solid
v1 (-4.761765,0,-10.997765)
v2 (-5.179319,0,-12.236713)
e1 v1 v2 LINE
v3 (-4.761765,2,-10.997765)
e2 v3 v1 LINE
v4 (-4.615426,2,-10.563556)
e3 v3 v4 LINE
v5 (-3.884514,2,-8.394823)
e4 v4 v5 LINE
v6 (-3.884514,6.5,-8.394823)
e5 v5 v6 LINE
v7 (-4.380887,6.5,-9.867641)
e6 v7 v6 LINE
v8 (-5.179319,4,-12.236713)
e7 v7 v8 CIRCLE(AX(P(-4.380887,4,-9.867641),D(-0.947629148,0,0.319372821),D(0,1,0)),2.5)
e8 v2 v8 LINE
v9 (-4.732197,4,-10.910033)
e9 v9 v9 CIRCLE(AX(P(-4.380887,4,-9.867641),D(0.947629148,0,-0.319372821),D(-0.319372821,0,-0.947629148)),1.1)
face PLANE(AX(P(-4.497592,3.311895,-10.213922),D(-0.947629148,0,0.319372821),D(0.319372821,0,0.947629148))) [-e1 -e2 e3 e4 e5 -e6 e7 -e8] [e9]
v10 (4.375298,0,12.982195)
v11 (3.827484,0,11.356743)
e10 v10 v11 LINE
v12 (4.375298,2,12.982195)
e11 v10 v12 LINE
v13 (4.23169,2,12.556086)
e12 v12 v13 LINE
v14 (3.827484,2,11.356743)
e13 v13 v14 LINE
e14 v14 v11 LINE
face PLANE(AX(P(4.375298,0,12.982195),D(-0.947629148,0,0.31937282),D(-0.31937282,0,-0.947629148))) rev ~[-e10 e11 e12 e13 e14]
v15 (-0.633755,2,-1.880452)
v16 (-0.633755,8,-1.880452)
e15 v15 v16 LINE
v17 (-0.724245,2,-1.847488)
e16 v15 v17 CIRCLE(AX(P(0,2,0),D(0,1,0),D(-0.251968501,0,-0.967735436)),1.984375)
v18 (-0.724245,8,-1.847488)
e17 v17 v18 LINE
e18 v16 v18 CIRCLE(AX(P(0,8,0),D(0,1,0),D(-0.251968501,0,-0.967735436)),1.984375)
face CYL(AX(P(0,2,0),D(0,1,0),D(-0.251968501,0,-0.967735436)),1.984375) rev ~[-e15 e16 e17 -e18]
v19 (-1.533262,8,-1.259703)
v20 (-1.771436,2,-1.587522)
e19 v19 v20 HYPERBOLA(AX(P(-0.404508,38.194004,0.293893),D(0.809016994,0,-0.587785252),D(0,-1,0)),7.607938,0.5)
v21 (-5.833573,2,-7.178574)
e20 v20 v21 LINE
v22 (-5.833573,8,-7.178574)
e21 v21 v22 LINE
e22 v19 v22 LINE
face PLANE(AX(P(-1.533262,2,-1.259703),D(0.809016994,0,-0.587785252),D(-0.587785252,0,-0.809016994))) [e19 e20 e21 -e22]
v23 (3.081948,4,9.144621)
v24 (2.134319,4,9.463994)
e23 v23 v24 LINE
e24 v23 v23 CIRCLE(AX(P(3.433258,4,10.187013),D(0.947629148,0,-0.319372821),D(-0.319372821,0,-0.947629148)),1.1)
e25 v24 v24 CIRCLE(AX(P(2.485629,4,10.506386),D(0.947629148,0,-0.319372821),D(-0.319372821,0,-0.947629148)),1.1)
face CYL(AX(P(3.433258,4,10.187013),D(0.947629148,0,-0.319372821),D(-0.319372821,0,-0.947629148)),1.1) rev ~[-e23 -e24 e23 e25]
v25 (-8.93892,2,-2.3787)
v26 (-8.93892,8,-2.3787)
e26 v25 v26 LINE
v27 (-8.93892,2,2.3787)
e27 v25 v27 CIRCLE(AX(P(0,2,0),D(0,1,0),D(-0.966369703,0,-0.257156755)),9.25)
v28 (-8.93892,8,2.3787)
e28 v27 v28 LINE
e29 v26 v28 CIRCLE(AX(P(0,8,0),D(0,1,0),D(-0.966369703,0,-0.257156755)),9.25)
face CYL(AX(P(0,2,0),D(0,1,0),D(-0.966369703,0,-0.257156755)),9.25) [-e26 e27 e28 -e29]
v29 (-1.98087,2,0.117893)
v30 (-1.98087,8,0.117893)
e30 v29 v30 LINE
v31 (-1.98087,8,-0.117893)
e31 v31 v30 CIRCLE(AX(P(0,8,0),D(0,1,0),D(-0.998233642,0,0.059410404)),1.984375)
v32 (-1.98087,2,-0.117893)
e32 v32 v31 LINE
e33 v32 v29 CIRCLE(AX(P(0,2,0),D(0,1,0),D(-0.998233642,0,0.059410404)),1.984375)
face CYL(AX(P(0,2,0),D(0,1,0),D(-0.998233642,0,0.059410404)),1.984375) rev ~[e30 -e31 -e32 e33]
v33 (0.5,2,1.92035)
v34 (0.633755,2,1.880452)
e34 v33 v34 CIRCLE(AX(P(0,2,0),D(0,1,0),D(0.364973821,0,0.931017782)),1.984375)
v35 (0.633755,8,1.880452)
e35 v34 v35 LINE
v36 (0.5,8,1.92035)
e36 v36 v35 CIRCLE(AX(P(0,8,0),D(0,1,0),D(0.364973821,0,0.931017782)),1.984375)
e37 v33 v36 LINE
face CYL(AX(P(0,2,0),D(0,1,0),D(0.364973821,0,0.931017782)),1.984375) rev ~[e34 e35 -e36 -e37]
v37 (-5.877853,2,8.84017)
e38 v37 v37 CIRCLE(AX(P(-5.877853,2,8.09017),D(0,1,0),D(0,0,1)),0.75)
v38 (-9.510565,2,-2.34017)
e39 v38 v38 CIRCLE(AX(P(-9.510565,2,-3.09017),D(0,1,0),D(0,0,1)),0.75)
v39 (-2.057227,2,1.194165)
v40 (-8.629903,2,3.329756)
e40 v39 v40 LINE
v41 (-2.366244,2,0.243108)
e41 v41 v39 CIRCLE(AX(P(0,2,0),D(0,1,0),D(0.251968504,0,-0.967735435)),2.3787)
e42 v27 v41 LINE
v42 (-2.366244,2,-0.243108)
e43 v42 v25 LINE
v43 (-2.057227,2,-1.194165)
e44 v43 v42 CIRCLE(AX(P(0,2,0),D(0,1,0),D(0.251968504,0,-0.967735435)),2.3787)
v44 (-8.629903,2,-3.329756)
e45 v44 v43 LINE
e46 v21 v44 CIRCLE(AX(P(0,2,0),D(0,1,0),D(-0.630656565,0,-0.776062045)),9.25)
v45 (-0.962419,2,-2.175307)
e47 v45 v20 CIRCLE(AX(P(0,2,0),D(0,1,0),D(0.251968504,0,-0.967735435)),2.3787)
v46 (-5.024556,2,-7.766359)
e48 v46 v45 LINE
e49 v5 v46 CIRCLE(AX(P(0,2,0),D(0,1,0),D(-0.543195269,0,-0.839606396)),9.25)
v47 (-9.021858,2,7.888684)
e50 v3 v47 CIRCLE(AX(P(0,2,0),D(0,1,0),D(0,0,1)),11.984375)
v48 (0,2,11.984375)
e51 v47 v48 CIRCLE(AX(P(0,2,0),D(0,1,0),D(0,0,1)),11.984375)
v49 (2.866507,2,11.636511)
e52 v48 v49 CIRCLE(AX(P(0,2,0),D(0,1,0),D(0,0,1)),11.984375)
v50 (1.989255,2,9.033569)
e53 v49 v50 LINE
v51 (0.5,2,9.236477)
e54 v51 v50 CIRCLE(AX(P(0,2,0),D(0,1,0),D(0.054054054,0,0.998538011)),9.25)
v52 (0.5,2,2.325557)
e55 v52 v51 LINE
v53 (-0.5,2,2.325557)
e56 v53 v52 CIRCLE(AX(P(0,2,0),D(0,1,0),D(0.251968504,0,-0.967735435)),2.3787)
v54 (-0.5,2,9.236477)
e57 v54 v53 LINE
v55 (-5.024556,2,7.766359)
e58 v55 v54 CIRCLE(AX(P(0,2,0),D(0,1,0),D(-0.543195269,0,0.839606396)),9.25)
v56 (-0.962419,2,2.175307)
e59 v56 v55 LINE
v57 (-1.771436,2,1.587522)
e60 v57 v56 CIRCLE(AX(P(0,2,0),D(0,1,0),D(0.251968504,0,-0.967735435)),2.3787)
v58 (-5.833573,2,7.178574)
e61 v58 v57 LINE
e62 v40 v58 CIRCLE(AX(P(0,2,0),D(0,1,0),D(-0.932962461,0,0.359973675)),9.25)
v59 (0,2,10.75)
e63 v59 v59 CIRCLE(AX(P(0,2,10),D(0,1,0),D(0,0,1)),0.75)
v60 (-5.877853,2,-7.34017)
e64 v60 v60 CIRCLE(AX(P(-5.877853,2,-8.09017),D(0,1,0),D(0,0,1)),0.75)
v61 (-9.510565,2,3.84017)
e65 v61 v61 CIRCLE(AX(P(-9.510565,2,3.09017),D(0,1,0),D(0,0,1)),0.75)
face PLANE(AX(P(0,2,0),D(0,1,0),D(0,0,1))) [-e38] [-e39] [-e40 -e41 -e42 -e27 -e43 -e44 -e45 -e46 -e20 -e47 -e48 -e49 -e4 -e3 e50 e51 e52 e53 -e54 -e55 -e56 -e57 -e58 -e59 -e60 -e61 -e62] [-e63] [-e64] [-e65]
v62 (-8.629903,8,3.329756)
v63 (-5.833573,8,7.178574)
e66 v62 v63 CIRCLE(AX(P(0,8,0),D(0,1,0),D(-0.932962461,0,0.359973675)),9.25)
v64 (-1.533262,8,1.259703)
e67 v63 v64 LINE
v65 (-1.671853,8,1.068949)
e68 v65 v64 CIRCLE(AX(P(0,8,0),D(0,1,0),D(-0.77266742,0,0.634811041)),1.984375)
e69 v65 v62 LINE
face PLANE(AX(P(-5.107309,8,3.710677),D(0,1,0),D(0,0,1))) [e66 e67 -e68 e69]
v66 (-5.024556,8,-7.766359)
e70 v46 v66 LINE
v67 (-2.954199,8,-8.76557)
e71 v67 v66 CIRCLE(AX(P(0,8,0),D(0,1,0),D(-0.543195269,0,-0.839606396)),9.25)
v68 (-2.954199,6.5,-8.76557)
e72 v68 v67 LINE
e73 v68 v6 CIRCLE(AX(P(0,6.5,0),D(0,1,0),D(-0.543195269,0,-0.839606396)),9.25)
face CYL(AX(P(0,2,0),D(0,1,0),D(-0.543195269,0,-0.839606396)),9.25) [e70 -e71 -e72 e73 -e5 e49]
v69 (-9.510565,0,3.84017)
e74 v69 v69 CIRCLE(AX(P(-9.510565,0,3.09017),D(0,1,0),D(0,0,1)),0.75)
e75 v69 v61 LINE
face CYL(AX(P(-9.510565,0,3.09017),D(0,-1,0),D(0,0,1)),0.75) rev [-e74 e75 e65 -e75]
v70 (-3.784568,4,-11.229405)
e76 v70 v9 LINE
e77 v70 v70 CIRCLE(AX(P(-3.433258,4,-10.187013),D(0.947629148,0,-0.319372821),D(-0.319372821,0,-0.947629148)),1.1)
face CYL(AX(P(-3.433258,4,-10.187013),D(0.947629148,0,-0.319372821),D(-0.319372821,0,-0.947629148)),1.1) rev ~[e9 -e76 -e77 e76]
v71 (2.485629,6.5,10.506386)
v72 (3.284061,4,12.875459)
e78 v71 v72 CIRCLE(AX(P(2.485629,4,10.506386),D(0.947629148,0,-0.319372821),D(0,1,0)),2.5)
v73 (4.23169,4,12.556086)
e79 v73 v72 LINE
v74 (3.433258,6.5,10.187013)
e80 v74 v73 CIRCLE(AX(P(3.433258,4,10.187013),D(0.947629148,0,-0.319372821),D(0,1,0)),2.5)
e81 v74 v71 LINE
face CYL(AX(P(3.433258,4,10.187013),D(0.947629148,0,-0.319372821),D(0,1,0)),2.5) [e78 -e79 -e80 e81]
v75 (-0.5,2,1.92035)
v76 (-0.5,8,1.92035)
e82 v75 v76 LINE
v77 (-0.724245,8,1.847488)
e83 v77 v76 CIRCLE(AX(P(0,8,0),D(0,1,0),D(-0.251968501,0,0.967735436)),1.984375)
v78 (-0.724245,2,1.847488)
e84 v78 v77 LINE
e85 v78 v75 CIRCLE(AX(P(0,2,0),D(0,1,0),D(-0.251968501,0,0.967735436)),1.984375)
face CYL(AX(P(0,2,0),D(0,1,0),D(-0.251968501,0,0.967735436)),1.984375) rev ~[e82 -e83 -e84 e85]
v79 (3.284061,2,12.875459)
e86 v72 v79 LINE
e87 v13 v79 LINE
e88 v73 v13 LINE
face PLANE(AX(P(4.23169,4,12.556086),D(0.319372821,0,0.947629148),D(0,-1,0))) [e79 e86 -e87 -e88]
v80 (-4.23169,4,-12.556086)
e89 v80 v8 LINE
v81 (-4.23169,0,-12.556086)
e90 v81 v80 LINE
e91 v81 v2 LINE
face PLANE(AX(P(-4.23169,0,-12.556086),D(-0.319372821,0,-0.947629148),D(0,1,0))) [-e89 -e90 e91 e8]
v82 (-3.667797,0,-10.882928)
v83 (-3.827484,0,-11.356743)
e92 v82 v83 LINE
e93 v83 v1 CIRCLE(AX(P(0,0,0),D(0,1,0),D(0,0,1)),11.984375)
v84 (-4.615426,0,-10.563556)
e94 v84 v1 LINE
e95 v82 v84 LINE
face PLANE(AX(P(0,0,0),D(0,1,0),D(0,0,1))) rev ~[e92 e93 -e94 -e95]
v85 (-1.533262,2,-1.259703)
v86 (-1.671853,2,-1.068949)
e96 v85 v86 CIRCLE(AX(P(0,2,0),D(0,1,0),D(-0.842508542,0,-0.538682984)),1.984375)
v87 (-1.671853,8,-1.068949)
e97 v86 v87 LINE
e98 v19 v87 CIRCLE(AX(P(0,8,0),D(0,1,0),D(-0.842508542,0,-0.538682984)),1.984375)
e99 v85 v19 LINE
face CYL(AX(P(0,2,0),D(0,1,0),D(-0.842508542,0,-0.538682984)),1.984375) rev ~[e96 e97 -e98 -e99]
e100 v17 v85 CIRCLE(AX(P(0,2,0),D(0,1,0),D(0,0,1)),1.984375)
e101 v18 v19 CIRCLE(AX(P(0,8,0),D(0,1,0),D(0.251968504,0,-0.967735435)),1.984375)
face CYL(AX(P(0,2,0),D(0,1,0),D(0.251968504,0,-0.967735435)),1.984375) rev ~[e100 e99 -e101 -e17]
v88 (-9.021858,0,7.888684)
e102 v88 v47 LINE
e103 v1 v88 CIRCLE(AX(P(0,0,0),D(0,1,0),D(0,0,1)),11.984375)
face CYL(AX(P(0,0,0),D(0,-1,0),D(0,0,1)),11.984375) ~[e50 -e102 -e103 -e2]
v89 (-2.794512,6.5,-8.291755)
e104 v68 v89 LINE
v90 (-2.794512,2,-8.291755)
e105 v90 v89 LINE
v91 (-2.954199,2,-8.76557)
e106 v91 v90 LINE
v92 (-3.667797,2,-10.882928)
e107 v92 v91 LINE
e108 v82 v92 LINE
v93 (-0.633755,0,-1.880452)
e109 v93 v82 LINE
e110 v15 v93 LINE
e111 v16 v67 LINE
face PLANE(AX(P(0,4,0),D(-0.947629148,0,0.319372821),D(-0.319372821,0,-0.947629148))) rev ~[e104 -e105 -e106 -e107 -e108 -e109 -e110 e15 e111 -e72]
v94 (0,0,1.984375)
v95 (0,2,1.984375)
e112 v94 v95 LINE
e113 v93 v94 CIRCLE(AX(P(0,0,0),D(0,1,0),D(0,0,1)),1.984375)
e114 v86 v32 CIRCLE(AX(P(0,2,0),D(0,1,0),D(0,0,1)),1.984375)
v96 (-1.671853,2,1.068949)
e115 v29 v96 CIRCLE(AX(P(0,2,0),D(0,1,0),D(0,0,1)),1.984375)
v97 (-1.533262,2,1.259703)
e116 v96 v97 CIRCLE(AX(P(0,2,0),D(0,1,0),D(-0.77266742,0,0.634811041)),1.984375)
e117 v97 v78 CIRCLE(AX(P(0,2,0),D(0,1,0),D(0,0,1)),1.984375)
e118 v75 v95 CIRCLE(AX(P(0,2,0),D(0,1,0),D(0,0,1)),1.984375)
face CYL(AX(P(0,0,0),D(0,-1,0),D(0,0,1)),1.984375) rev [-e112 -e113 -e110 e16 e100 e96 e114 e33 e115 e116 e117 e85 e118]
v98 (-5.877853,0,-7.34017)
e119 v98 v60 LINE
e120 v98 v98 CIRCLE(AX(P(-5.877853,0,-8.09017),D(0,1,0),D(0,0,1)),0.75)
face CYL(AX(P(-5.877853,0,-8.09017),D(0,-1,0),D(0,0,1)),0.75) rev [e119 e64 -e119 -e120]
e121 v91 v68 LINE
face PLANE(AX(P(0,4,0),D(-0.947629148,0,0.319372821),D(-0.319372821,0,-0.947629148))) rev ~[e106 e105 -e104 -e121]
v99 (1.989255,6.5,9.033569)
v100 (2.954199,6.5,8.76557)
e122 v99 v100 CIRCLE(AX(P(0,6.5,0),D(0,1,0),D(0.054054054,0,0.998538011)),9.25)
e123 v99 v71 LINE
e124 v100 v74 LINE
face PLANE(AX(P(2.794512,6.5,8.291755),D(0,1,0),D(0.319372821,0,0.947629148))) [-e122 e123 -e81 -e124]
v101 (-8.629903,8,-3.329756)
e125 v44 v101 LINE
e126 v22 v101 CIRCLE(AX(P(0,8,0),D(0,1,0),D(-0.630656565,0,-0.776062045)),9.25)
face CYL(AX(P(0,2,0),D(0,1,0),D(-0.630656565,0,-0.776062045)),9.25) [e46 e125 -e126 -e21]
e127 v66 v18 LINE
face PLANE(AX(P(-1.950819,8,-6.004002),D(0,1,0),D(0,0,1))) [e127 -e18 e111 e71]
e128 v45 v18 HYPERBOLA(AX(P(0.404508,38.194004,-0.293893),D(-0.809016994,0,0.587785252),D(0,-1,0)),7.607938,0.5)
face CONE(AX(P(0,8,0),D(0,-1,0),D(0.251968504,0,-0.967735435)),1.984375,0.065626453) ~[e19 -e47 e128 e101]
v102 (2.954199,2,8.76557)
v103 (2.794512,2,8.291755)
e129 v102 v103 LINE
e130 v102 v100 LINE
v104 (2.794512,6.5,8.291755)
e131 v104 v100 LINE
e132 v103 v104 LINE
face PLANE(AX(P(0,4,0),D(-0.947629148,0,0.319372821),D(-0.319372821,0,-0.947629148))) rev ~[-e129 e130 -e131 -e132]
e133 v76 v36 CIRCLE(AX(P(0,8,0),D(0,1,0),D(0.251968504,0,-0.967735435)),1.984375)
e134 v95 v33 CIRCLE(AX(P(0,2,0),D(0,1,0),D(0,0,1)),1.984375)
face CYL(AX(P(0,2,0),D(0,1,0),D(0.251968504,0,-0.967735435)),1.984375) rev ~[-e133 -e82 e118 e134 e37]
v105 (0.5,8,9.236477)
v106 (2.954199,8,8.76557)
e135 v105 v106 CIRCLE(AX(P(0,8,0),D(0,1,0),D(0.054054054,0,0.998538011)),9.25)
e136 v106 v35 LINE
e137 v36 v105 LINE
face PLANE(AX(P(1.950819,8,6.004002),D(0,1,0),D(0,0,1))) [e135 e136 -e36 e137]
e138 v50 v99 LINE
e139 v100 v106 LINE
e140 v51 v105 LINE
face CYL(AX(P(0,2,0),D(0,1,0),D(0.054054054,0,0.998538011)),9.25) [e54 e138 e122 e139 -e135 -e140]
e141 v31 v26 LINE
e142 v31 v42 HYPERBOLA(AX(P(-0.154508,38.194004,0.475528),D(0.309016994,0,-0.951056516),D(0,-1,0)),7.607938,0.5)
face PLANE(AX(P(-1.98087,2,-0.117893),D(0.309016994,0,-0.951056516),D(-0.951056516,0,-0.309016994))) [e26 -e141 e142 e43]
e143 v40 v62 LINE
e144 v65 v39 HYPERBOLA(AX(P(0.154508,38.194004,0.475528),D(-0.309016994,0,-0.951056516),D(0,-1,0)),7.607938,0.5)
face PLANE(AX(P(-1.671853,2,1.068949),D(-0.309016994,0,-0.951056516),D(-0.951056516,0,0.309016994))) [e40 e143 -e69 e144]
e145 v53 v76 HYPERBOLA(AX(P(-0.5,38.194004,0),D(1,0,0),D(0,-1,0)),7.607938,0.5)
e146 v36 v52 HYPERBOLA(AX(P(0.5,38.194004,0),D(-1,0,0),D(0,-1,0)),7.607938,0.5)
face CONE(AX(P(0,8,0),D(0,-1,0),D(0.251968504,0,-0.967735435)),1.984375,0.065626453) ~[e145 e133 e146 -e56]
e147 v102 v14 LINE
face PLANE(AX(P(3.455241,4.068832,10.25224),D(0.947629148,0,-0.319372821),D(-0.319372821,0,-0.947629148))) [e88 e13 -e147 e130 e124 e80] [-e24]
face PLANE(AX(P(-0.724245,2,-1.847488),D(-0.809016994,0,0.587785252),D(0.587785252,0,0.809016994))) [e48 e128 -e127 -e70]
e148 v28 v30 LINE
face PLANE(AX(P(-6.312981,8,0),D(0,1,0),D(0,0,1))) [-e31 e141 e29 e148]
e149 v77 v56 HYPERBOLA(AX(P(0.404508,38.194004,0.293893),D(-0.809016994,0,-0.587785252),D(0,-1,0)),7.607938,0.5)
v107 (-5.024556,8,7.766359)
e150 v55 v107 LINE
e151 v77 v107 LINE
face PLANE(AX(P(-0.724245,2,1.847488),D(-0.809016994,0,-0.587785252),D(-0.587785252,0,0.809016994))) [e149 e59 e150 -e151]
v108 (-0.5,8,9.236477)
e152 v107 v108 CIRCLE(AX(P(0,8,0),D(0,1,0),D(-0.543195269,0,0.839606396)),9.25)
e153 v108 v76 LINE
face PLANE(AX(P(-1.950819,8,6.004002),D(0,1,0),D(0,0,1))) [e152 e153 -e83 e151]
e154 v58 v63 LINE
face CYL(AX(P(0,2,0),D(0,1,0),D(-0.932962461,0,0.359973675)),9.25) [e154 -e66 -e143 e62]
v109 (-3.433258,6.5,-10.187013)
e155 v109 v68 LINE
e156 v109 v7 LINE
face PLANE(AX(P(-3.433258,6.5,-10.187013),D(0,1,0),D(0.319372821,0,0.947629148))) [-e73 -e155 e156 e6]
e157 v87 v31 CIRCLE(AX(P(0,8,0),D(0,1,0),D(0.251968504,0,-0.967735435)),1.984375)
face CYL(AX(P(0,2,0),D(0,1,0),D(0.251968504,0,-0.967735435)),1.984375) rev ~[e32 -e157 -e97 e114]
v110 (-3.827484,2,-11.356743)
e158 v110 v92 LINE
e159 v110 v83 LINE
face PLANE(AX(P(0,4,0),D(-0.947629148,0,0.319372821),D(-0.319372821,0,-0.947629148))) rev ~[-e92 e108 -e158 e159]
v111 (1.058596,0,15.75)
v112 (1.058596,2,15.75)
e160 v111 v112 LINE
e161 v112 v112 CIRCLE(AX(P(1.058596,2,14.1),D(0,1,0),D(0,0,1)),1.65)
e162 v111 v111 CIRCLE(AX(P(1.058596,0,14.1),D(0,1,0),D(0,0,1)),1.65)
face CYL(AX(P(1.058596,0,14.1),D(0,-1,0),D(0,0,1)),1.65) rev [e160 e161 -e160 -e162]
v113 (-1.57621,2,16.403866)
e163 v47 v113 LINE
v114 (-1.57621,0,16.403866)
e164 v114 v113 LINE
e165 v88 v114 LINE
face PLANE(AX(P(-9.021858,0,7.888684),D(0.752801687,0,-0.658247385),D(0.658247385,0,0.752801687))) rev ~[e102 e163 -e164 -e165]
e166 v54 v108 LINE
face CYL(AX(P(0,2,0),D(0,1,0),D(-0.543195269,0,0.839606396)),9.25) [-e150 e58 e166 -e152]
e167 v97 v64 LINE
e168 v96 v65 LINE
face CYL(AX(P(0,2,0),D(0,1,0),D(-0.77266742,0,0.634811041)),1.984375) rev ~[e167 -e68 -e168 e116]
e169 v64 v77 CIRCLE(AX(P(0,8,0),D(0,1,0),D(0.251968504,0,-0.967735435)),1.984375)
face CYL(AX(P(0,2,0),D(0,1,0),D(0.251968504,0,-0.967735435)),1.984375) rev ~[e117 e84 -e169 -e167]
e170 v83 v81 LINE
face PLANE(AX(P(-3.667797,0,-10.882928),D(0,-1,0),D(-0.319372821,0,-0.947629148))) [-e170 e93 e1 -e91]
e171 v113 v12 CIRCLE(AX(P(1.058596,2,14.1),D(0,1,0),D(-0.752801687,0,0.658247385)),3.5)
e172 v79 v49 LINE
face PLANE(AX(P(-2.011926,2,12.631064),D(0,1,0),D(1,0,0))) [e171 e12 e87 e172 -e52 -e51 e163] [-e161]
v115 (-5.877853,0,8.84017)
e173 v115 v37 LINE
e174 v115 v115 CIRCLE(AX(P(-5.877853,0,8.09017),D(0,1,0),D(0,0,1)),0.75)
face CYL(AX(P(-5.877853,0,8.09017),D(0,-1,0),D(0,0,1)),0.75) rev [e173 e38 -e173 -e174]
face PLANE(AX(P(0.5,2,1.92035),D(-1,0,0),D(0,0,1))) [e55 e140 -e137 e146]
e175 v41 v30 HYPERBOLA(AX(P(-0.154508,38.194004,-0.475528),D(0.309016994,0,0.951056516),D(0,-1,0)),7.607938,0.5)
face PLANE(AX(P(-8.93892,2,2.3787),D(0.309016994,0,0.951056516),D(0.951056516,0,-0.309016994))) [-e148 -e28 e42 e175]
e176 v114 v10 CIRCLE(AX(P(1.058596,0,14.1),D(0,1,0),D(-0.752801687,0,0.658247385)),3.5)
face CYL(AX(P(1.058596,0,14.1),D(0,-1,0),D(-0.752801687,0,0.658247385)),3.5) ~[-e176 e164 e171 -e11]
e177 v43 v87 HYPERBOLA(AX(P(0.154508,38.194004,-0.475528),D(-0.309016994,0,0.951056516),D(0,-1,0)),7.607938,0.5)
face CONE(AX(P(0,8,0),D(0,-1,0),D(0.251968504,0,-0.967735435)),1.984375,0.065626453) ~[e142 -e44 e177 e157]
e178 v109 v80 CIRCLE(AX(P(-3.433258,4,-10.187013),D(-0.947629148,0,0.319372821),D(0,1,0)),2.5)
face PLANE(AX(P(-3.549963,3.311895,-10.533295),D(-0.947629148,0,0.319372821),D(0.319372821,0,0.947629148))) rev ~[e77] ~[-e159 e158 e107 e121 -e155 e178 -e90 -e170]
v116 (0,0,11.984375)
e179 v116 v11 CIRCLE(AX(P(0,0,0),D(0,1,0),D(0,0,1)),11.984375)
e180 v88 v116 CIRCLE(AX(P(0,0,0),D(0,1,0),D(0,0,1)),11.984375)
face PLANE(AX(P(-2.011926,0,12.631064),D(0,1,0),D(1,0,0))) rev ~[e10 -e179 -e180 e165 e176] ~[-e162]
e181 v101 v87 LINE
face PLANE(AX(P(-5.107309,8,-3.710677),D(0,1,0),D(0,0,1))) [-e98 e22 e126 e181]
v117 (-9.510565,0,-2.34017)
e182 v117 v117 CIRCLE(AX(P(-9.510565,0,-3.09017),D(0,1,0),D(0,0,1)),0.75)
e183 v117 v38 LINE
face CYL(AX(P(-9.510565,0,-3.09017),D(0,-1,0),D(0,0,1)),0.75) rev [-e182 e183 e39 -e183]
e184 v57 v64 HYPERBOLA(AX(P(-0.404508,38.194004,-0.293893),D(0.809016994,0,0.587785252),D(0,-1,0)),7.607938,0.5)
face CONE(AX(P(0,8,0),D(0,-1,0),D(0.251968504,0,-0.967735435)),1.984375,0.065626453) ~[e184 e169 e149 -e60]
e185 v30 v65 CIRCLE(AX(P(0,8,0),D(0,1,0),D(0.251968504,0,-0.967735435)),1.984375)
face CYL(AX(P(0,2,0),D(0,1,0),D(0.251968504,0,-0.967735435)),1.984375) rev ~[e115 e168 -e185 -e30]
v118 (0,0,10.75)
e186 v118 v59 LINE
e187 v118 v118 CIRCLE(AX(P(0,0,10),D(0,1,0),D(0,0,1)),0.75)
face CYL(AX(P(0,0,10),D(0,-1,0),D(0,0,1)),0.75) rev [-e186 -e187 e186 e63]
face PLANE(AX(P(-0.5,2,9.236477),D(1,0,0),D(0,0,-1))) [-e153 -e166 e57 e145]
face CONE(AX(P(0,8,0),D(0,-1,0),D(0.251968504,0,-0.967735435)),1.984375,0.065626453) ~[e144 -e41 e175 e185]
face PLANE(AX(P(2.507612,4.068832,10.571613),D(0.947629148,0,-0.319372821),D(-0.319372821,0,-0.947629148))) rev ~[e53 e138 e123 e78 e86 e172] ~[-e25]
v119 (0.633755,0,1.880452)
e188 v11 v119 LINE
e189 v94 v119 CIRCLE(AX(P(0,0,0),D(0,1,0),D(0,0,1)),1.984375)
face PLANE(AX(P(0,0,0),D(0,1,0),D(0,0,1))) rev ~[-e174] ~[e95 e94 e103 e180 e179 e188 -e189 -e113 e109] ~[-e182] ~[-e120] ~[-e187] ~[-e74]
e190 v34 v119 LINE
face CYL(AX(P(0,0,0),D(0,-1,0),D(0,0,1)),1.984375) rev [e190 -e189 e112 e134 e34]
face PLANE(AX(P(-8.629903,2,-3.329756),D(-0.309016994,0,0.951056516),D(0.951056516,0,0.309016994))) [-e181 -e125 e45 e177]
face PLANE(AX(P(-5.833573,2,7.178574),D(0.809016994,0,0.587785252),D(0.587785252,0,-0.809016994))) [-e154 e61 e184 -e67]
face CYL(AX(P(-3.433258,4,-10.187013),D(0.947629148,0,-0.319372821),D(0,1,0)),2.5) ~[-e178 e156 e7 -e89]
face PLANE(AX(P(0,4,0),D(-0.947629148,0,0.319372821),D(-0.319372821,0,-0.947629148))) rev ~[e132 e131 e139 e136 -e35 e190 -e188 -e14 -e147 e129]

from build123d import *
from build123d.topology import SkipClean

# Parameters (mm, degrees)
SKETCH1_R           = 11.984375
SKETCH1_R_2         = 1.984375
SKETCH1_R_3         = 0.75
BOSS_EXTRUDE1_DEPTH = 2
SKETCH6_W           = 23.96875
SKETCH6_H           = 8
CUT_EXTRUDE1_DEPTH  = 19.741677841
BOSS_EXTRUDE3_START = -2
SKETCH7_R           = 1.65
BOSS_EXTRUDE3_DEPTH = 2
SKETCH8_R           = 1.1
BOSS_EXTRUDE4_DEPTH = 1


with BuildPart() as part:
    # Sketch1 → Boss-Extrude1 (new body)
    with BuildSketch(Plane(origin=(0, 0, 0), x_dir=(1, 0, 0), z_dir=(0, 1, 0))):
        with Locations(Location((0, 0, 0), (0, 0, 270))):
            Circle(SKETCH1_R)
        with Locations(Location((0, 0, 0), (0, 0, 270))):
            Circle(SKETCH1_R_2, mode=Mode.SUBTRACT)
        with Locations(Location((0, 10, 0), (0, 0, 270))):
            Circle(SKETCH1_R_3, mode=Mode.SUBTRACT)
        with Locations(Location((5.877852523, 8.090169944, 0), (0, 0, 270))):
            Circle(SKETCH1_R_3, mode=Mode.SUBTRACT)
        with Locations(Location((9.510565163, 3.090169944, 0), (0, 0, 270))):
            Circle(SKETCH1_R_3, mode=Mode.SUBTRACT)
        with Locations(Location((9.510565163, -3.090169944, 0), (0, 0, 270))):
            Circle(SKETCH1_R_3, mode=Mode.SUBTRACT)
        with Locations(Location((5.877852523, -8.090169944, 0), (0, 0, 270))):
            Circle(SKETCH1_R_3, mode=Mode.SUBTRACT)
        with Locations(Location((0, -10, 0), (0, 0, 270))):
            Circle(SKETCH1_R_3, mode=Mode.SUBTRACT)
        with Locations(Location((-5.877852523, -8.090169944, 0), (0, 0, 270))):
            Circle(SKETCH1_R_3, mode=Mode.SUBTRACT)
        with Locations(Location((-9.510565163, -3.090169944, 0), (0, 0, 270))):
            Circle(SKETCH1_R_3, mode=Mode.SUBTRACT)
        with Locations(Location((-9.510565163, 3.090169944, 0), (0, 0, 270))):
            Circle(SKETCH1_R_3, mode=Mode.SUBTRACT)
        with Locations(Location((-5.877852523, 8.090169944, 0), (0, 0, 270))):
            Circle(SKETCH1_R_3, mode=Mode.SUBTRACT)
    extrude(amount=BOSS_EXTRUDE1_DEPTH)

    # Sweep1: sweep along a path in Sketch3
    with SkipClean():  # the faces are left unmerged after this step: merging them gives an invalid solid
        with BuildLine(Plane(origin=(0, 0, 0), x_dir=(0, 0, -1), z_dir=(1, 0, 0))) as sweep1_path:
            Line((0, 2), (0, 8))
        # Sketch2 → Sweep1 (sweep)
        with BuildSketch(Plane(origin=(0, 2, 0), x_dir=(1, 0, 0), z_dir=(0, 1, 0))):
            with BuildLine():
                Line((-0.5, 9.236476601), (-0.5, 1.920350005))
                ThreePointArc((-0.5, 1.920350005), (-0.613205598, 1.887252775), (-0.724244915, 1.847488415))
                Line((-0.724244915, 1.847488415), (-5.024556232, 7.766359164))
                ThreePointArc((-5.024556232, 7.766359164), (-2.858407198, 8.797272776), (-0.5, 9.236476601))
            make_face()
            with BuildLine():
                Line((0.5, 9.236476601), (0.5, 1.920350005))
                ThreePointArc((0.5, 1.920350005), (0.613205598, 1.887252775), (0.724244915, 1.847488415))
                Line((0.724244915, 1.847488415), (5.024556232, 7.766359164))
                ThreePointArc((5.024556232, 7.766359164), (2.858407198, 8.797272776), (0.5, 9.236476601))
            make_face()
            with BuildLine():
                Line((5.833573226, 7.178573912), (1.533261909, 1.259703163))
                ThreePointArc((1.533261909, 1.259703163), (1.605393098, 1.16638636), (1.671852888, 1.068949045))
                Line((1.671852888, 1.068949045), (8.629902762, 3.329756496))
                ThreePointArc((8.629902762, 3.329756496), (7.483407198, 5.437013584), (5.833573226, 7.178573912))
            make_face()
            with BuildLine():
                Line((8.938919756, 2.37869998), (1.980869883, 0.117892528))
                ThreePointArc((1.980869883, 0.117892528), (1.984375, 0), (1.980869883, -0.117892528))
                Line((1.980869883, -0.117892528), (8.938919756, -2.37869998))
                ThreePointArc((8.938919756, -2.37869998), (9.25, 0), (8.938919756, 2.37869998))
            make_face()
            with BuildLine():
                Line((8.629902762, -3.329756496), (1.671852888, -1.068949045))
                ThreePointArc((1.671852888, -1.068949045), (1.605393098, -1.16638636), (1.533261909, -1.259703163))
                Line((1.533261909, -1.259703163), (5.833573226, -7.178573912))
                ThreePointArc((5.833573226, -7.178573912), (7.483407198, -5.437013584), (8.629902762, -3.329756496))
            make_face()
            with BuildLine():
                Line((5.024556232, -7.766359164), (0.724244915, -1.847488415))
                ThreePointArc((0.724244915, -1.847488415), (0.613205598, -1.887252775), (0.5, -1.920350005))
                Line((0.5, -1.920350005), (0.5, -9.236476601))
                ThreePointArc((0.5, -9.236476601), (2.858407198, -8.797272776), (5.024556232, -7.766359164))
            make_face()
            with BuildLine():
                Line((-0.5, -9.236476601), (-0.5, -1.920350005))
                ThreePointArc((-0.5, -1.920350005), (-0.613205598, -1.887252775), (-0.724244915, -1.847488415))
                Line((-0.724244915, -1.847488415), (-5.024556232, -7.766359164))
                ThreePointArc((-5.024556232, -7.766359164), (-2.858407198, -8.797272776), (-0.5, -9.236476601))
            make_face()
            with BuildLine():
                Line((-5.833573226, -7.178573912), (-1.533261909, -1.259703163))
                ThreePointArc((-1.533261909, -1.259703163), (-1.605393098, -1.16638636), (-1.671852888, -1.068949045))
                Line((-1.671852888, -1.068949045), (-8.629902762, -3.329756496))
                ThreePointArc((-8.629902762, -3.329756496), (-7.483407198, -5.437013584), (-5.833573226, -7.178573912))
            make_face()
            with BuildLine():
                Line((-8.938919756, -2.37869998), (-1.980869883, -0.117892528))
                ThreePointArc((-1.980869883, -0.117892528), (-1.984375, 0), (-1.980869883, 0.117892528))
                Line((-1.980869883, 0.117892528), (-8.938919756, 2.37869998))
                ThreePointArc((-8.938919756, 2.37869998), (-9.25, 0), (-8.938919756, -2.37869998))
            make_face()
            with BuildLine():
                Line((-8.629902762, 3.329756496), (-1.671852888, 1.068949045))
                ThreePointArc((-1.671852888, 1.068949045), (-1.605393098, 1.16638636), (-1.533261909, 1.259703163))
                Line((-1.533261909, 1.259703163), (-5.833573226, 7.178573912))
                ThreePointArc((-5.833573226, 7.178573912), (-7.483407198, 5.437013584), (-8.629902762, 3.329756496))
            make_face()
        sweep(path=sweep1_path.line)

    # Sketch4 → Revolve1 (revolve)
    with SkipClean():  # the faces are left unmerged after this step: merging them gives an invalid solid
        with BuildSketch(Plane(origin=(0, 0, 0), x_dir=(0, 0, -1), z_dir=(1, 0, 0)), mode=Mode.PRIVATE) as revolve1_sk:
            Polygon((-2.37869998, 2), (-1.984375, 2), (-1.984375, 8), align=None)
        revolve(revolve1_sk.sketch.rotate(Axis((0, 0, 0), (0, 1, 0)), 165.405971265), axis=Axis((0, 0, 0), (0, 1, 0)))

    # Sketch6 → Cut-Extrude1 (cut, through all)
    with SkipClean():  # the faces are left unmerged after this step: merging them gives an invalid solid
        with BuildSketch(Plane(origin=(0, 0, 0), x_dir=(-0.3193728209047868, 0, -0.9476291475399641), z_dir=(-0.9476291475399641, 0, 0.3193728209047868))):
            with Locations((0, -4)):
                Rectangle(SKETCH6_W, SKETCH6_H)
        extrude(amount=-CUT_EXTRUDE1_DEPTH, mode=Mode.SUBTRACT)

    # Sketch7 → Boss-Extrude3 (add)
    with SkipClean():  # the faces are left unmerged after this step: merging them gives an invalid solid
        with BuildSketch(Plane(origin=(0, 2, 0), x_dir=(1, 0, 0), z_dir=(0, 1, 0)).offset(BOSS_EXTRUDE3_START)):
            with BuildLine():
                Line((-9.021857716, -7.888683508), (-1.576209535, -16.403865848))
                ThreePointArc((-1.576209535, -16.403865848), (2.803074288, -17.134270389), (4.375298385, -12.982195127))
                Line((4.375298385, -12.982195127), (3.827483651, -11.356743065))
                ThreePointArc((3.827483651, -11.356743065), (-3.122857627, -11.570350227), (-9.021857716, -7.888683508))
            make_face()
            with Locations(Location((1.058596369, -14.1, 0), (0, 0, 270))):
                Circle(SKETCH7_R, mode=Mode.SUBTRACT)
        extrude(amount=BOSS_EXTRUDE3_DEPTH)

    # Sketch8 → Boss-Extrude4 (add)
    # profile 1 of 2: a face of its own
    with SkipClean():  # the faces are left unmerged after this step: merging them gives an invalid solid
        with BuildSketch(Plane(origin=(0, 0, 0), x_dir=(-0.31937282090478675, 0, -0.9476291475399641), z_dir=(0.9476291475399641, 0, -0.31937282090478675))):
            with BuildLine():
                Line((-13.25, 4), (-13.25, 2))
                Line((-13.25, 2), (-8.75, 2))
                Line((-8.75, 2), (-8.75, 6.5))
                Line((-8.75, 6.5), (-9.25, 6.5))
                Line((-9.25, 6.5), (-10.75, 6.5))
                ThreePointArc((-10.75, 6.5), (-12.517766953, 5.767766953), (-13.25, 4))
            make_face()
            with Locations((-10.75, 4)):
                Circle(SKETCH8_R, mode=Mode.SUBTRACT)
        # profile 2 of 2: a face of its own
        with BuildSketch(Plane(origin=(0, 0, 0), x_dir=(-0.31937282090478675, 0, -0.9476291475399641), z_dir=(0.9476291475399641, 0, -0.31937282090478675))):
            with BuildLine():
                Line((11.484375, 2), (8.75, 2))
                Line((8.75, 2), (8.75, 6.5))
                Line((8.75, 6.5), (9.25, 6.5))
                Line((9.25, 6.5), (10.75, 6.5))
                ThreePointArc((10.75, 6.5), (12.517766953, 5.767766953), (13.25, 4))
                Line((13.25, 4), (13.25, 2))
                Line((13.25, 2), (13.25, 0))
                Line((13.25, 0), (11.984375, 0))
                Line((11.984375, 0), (11.484375, 0))
                Line((11.484375, 0), (11.484375, 2))
            make_face()
            with Locations((10.75, 4)):
                Circle(SKETCH8_R, mode=Mode.SUBTRACT)
        extrude(amount=-BOSS_EXTRUDE4_DEPTH)


solid = part.part
